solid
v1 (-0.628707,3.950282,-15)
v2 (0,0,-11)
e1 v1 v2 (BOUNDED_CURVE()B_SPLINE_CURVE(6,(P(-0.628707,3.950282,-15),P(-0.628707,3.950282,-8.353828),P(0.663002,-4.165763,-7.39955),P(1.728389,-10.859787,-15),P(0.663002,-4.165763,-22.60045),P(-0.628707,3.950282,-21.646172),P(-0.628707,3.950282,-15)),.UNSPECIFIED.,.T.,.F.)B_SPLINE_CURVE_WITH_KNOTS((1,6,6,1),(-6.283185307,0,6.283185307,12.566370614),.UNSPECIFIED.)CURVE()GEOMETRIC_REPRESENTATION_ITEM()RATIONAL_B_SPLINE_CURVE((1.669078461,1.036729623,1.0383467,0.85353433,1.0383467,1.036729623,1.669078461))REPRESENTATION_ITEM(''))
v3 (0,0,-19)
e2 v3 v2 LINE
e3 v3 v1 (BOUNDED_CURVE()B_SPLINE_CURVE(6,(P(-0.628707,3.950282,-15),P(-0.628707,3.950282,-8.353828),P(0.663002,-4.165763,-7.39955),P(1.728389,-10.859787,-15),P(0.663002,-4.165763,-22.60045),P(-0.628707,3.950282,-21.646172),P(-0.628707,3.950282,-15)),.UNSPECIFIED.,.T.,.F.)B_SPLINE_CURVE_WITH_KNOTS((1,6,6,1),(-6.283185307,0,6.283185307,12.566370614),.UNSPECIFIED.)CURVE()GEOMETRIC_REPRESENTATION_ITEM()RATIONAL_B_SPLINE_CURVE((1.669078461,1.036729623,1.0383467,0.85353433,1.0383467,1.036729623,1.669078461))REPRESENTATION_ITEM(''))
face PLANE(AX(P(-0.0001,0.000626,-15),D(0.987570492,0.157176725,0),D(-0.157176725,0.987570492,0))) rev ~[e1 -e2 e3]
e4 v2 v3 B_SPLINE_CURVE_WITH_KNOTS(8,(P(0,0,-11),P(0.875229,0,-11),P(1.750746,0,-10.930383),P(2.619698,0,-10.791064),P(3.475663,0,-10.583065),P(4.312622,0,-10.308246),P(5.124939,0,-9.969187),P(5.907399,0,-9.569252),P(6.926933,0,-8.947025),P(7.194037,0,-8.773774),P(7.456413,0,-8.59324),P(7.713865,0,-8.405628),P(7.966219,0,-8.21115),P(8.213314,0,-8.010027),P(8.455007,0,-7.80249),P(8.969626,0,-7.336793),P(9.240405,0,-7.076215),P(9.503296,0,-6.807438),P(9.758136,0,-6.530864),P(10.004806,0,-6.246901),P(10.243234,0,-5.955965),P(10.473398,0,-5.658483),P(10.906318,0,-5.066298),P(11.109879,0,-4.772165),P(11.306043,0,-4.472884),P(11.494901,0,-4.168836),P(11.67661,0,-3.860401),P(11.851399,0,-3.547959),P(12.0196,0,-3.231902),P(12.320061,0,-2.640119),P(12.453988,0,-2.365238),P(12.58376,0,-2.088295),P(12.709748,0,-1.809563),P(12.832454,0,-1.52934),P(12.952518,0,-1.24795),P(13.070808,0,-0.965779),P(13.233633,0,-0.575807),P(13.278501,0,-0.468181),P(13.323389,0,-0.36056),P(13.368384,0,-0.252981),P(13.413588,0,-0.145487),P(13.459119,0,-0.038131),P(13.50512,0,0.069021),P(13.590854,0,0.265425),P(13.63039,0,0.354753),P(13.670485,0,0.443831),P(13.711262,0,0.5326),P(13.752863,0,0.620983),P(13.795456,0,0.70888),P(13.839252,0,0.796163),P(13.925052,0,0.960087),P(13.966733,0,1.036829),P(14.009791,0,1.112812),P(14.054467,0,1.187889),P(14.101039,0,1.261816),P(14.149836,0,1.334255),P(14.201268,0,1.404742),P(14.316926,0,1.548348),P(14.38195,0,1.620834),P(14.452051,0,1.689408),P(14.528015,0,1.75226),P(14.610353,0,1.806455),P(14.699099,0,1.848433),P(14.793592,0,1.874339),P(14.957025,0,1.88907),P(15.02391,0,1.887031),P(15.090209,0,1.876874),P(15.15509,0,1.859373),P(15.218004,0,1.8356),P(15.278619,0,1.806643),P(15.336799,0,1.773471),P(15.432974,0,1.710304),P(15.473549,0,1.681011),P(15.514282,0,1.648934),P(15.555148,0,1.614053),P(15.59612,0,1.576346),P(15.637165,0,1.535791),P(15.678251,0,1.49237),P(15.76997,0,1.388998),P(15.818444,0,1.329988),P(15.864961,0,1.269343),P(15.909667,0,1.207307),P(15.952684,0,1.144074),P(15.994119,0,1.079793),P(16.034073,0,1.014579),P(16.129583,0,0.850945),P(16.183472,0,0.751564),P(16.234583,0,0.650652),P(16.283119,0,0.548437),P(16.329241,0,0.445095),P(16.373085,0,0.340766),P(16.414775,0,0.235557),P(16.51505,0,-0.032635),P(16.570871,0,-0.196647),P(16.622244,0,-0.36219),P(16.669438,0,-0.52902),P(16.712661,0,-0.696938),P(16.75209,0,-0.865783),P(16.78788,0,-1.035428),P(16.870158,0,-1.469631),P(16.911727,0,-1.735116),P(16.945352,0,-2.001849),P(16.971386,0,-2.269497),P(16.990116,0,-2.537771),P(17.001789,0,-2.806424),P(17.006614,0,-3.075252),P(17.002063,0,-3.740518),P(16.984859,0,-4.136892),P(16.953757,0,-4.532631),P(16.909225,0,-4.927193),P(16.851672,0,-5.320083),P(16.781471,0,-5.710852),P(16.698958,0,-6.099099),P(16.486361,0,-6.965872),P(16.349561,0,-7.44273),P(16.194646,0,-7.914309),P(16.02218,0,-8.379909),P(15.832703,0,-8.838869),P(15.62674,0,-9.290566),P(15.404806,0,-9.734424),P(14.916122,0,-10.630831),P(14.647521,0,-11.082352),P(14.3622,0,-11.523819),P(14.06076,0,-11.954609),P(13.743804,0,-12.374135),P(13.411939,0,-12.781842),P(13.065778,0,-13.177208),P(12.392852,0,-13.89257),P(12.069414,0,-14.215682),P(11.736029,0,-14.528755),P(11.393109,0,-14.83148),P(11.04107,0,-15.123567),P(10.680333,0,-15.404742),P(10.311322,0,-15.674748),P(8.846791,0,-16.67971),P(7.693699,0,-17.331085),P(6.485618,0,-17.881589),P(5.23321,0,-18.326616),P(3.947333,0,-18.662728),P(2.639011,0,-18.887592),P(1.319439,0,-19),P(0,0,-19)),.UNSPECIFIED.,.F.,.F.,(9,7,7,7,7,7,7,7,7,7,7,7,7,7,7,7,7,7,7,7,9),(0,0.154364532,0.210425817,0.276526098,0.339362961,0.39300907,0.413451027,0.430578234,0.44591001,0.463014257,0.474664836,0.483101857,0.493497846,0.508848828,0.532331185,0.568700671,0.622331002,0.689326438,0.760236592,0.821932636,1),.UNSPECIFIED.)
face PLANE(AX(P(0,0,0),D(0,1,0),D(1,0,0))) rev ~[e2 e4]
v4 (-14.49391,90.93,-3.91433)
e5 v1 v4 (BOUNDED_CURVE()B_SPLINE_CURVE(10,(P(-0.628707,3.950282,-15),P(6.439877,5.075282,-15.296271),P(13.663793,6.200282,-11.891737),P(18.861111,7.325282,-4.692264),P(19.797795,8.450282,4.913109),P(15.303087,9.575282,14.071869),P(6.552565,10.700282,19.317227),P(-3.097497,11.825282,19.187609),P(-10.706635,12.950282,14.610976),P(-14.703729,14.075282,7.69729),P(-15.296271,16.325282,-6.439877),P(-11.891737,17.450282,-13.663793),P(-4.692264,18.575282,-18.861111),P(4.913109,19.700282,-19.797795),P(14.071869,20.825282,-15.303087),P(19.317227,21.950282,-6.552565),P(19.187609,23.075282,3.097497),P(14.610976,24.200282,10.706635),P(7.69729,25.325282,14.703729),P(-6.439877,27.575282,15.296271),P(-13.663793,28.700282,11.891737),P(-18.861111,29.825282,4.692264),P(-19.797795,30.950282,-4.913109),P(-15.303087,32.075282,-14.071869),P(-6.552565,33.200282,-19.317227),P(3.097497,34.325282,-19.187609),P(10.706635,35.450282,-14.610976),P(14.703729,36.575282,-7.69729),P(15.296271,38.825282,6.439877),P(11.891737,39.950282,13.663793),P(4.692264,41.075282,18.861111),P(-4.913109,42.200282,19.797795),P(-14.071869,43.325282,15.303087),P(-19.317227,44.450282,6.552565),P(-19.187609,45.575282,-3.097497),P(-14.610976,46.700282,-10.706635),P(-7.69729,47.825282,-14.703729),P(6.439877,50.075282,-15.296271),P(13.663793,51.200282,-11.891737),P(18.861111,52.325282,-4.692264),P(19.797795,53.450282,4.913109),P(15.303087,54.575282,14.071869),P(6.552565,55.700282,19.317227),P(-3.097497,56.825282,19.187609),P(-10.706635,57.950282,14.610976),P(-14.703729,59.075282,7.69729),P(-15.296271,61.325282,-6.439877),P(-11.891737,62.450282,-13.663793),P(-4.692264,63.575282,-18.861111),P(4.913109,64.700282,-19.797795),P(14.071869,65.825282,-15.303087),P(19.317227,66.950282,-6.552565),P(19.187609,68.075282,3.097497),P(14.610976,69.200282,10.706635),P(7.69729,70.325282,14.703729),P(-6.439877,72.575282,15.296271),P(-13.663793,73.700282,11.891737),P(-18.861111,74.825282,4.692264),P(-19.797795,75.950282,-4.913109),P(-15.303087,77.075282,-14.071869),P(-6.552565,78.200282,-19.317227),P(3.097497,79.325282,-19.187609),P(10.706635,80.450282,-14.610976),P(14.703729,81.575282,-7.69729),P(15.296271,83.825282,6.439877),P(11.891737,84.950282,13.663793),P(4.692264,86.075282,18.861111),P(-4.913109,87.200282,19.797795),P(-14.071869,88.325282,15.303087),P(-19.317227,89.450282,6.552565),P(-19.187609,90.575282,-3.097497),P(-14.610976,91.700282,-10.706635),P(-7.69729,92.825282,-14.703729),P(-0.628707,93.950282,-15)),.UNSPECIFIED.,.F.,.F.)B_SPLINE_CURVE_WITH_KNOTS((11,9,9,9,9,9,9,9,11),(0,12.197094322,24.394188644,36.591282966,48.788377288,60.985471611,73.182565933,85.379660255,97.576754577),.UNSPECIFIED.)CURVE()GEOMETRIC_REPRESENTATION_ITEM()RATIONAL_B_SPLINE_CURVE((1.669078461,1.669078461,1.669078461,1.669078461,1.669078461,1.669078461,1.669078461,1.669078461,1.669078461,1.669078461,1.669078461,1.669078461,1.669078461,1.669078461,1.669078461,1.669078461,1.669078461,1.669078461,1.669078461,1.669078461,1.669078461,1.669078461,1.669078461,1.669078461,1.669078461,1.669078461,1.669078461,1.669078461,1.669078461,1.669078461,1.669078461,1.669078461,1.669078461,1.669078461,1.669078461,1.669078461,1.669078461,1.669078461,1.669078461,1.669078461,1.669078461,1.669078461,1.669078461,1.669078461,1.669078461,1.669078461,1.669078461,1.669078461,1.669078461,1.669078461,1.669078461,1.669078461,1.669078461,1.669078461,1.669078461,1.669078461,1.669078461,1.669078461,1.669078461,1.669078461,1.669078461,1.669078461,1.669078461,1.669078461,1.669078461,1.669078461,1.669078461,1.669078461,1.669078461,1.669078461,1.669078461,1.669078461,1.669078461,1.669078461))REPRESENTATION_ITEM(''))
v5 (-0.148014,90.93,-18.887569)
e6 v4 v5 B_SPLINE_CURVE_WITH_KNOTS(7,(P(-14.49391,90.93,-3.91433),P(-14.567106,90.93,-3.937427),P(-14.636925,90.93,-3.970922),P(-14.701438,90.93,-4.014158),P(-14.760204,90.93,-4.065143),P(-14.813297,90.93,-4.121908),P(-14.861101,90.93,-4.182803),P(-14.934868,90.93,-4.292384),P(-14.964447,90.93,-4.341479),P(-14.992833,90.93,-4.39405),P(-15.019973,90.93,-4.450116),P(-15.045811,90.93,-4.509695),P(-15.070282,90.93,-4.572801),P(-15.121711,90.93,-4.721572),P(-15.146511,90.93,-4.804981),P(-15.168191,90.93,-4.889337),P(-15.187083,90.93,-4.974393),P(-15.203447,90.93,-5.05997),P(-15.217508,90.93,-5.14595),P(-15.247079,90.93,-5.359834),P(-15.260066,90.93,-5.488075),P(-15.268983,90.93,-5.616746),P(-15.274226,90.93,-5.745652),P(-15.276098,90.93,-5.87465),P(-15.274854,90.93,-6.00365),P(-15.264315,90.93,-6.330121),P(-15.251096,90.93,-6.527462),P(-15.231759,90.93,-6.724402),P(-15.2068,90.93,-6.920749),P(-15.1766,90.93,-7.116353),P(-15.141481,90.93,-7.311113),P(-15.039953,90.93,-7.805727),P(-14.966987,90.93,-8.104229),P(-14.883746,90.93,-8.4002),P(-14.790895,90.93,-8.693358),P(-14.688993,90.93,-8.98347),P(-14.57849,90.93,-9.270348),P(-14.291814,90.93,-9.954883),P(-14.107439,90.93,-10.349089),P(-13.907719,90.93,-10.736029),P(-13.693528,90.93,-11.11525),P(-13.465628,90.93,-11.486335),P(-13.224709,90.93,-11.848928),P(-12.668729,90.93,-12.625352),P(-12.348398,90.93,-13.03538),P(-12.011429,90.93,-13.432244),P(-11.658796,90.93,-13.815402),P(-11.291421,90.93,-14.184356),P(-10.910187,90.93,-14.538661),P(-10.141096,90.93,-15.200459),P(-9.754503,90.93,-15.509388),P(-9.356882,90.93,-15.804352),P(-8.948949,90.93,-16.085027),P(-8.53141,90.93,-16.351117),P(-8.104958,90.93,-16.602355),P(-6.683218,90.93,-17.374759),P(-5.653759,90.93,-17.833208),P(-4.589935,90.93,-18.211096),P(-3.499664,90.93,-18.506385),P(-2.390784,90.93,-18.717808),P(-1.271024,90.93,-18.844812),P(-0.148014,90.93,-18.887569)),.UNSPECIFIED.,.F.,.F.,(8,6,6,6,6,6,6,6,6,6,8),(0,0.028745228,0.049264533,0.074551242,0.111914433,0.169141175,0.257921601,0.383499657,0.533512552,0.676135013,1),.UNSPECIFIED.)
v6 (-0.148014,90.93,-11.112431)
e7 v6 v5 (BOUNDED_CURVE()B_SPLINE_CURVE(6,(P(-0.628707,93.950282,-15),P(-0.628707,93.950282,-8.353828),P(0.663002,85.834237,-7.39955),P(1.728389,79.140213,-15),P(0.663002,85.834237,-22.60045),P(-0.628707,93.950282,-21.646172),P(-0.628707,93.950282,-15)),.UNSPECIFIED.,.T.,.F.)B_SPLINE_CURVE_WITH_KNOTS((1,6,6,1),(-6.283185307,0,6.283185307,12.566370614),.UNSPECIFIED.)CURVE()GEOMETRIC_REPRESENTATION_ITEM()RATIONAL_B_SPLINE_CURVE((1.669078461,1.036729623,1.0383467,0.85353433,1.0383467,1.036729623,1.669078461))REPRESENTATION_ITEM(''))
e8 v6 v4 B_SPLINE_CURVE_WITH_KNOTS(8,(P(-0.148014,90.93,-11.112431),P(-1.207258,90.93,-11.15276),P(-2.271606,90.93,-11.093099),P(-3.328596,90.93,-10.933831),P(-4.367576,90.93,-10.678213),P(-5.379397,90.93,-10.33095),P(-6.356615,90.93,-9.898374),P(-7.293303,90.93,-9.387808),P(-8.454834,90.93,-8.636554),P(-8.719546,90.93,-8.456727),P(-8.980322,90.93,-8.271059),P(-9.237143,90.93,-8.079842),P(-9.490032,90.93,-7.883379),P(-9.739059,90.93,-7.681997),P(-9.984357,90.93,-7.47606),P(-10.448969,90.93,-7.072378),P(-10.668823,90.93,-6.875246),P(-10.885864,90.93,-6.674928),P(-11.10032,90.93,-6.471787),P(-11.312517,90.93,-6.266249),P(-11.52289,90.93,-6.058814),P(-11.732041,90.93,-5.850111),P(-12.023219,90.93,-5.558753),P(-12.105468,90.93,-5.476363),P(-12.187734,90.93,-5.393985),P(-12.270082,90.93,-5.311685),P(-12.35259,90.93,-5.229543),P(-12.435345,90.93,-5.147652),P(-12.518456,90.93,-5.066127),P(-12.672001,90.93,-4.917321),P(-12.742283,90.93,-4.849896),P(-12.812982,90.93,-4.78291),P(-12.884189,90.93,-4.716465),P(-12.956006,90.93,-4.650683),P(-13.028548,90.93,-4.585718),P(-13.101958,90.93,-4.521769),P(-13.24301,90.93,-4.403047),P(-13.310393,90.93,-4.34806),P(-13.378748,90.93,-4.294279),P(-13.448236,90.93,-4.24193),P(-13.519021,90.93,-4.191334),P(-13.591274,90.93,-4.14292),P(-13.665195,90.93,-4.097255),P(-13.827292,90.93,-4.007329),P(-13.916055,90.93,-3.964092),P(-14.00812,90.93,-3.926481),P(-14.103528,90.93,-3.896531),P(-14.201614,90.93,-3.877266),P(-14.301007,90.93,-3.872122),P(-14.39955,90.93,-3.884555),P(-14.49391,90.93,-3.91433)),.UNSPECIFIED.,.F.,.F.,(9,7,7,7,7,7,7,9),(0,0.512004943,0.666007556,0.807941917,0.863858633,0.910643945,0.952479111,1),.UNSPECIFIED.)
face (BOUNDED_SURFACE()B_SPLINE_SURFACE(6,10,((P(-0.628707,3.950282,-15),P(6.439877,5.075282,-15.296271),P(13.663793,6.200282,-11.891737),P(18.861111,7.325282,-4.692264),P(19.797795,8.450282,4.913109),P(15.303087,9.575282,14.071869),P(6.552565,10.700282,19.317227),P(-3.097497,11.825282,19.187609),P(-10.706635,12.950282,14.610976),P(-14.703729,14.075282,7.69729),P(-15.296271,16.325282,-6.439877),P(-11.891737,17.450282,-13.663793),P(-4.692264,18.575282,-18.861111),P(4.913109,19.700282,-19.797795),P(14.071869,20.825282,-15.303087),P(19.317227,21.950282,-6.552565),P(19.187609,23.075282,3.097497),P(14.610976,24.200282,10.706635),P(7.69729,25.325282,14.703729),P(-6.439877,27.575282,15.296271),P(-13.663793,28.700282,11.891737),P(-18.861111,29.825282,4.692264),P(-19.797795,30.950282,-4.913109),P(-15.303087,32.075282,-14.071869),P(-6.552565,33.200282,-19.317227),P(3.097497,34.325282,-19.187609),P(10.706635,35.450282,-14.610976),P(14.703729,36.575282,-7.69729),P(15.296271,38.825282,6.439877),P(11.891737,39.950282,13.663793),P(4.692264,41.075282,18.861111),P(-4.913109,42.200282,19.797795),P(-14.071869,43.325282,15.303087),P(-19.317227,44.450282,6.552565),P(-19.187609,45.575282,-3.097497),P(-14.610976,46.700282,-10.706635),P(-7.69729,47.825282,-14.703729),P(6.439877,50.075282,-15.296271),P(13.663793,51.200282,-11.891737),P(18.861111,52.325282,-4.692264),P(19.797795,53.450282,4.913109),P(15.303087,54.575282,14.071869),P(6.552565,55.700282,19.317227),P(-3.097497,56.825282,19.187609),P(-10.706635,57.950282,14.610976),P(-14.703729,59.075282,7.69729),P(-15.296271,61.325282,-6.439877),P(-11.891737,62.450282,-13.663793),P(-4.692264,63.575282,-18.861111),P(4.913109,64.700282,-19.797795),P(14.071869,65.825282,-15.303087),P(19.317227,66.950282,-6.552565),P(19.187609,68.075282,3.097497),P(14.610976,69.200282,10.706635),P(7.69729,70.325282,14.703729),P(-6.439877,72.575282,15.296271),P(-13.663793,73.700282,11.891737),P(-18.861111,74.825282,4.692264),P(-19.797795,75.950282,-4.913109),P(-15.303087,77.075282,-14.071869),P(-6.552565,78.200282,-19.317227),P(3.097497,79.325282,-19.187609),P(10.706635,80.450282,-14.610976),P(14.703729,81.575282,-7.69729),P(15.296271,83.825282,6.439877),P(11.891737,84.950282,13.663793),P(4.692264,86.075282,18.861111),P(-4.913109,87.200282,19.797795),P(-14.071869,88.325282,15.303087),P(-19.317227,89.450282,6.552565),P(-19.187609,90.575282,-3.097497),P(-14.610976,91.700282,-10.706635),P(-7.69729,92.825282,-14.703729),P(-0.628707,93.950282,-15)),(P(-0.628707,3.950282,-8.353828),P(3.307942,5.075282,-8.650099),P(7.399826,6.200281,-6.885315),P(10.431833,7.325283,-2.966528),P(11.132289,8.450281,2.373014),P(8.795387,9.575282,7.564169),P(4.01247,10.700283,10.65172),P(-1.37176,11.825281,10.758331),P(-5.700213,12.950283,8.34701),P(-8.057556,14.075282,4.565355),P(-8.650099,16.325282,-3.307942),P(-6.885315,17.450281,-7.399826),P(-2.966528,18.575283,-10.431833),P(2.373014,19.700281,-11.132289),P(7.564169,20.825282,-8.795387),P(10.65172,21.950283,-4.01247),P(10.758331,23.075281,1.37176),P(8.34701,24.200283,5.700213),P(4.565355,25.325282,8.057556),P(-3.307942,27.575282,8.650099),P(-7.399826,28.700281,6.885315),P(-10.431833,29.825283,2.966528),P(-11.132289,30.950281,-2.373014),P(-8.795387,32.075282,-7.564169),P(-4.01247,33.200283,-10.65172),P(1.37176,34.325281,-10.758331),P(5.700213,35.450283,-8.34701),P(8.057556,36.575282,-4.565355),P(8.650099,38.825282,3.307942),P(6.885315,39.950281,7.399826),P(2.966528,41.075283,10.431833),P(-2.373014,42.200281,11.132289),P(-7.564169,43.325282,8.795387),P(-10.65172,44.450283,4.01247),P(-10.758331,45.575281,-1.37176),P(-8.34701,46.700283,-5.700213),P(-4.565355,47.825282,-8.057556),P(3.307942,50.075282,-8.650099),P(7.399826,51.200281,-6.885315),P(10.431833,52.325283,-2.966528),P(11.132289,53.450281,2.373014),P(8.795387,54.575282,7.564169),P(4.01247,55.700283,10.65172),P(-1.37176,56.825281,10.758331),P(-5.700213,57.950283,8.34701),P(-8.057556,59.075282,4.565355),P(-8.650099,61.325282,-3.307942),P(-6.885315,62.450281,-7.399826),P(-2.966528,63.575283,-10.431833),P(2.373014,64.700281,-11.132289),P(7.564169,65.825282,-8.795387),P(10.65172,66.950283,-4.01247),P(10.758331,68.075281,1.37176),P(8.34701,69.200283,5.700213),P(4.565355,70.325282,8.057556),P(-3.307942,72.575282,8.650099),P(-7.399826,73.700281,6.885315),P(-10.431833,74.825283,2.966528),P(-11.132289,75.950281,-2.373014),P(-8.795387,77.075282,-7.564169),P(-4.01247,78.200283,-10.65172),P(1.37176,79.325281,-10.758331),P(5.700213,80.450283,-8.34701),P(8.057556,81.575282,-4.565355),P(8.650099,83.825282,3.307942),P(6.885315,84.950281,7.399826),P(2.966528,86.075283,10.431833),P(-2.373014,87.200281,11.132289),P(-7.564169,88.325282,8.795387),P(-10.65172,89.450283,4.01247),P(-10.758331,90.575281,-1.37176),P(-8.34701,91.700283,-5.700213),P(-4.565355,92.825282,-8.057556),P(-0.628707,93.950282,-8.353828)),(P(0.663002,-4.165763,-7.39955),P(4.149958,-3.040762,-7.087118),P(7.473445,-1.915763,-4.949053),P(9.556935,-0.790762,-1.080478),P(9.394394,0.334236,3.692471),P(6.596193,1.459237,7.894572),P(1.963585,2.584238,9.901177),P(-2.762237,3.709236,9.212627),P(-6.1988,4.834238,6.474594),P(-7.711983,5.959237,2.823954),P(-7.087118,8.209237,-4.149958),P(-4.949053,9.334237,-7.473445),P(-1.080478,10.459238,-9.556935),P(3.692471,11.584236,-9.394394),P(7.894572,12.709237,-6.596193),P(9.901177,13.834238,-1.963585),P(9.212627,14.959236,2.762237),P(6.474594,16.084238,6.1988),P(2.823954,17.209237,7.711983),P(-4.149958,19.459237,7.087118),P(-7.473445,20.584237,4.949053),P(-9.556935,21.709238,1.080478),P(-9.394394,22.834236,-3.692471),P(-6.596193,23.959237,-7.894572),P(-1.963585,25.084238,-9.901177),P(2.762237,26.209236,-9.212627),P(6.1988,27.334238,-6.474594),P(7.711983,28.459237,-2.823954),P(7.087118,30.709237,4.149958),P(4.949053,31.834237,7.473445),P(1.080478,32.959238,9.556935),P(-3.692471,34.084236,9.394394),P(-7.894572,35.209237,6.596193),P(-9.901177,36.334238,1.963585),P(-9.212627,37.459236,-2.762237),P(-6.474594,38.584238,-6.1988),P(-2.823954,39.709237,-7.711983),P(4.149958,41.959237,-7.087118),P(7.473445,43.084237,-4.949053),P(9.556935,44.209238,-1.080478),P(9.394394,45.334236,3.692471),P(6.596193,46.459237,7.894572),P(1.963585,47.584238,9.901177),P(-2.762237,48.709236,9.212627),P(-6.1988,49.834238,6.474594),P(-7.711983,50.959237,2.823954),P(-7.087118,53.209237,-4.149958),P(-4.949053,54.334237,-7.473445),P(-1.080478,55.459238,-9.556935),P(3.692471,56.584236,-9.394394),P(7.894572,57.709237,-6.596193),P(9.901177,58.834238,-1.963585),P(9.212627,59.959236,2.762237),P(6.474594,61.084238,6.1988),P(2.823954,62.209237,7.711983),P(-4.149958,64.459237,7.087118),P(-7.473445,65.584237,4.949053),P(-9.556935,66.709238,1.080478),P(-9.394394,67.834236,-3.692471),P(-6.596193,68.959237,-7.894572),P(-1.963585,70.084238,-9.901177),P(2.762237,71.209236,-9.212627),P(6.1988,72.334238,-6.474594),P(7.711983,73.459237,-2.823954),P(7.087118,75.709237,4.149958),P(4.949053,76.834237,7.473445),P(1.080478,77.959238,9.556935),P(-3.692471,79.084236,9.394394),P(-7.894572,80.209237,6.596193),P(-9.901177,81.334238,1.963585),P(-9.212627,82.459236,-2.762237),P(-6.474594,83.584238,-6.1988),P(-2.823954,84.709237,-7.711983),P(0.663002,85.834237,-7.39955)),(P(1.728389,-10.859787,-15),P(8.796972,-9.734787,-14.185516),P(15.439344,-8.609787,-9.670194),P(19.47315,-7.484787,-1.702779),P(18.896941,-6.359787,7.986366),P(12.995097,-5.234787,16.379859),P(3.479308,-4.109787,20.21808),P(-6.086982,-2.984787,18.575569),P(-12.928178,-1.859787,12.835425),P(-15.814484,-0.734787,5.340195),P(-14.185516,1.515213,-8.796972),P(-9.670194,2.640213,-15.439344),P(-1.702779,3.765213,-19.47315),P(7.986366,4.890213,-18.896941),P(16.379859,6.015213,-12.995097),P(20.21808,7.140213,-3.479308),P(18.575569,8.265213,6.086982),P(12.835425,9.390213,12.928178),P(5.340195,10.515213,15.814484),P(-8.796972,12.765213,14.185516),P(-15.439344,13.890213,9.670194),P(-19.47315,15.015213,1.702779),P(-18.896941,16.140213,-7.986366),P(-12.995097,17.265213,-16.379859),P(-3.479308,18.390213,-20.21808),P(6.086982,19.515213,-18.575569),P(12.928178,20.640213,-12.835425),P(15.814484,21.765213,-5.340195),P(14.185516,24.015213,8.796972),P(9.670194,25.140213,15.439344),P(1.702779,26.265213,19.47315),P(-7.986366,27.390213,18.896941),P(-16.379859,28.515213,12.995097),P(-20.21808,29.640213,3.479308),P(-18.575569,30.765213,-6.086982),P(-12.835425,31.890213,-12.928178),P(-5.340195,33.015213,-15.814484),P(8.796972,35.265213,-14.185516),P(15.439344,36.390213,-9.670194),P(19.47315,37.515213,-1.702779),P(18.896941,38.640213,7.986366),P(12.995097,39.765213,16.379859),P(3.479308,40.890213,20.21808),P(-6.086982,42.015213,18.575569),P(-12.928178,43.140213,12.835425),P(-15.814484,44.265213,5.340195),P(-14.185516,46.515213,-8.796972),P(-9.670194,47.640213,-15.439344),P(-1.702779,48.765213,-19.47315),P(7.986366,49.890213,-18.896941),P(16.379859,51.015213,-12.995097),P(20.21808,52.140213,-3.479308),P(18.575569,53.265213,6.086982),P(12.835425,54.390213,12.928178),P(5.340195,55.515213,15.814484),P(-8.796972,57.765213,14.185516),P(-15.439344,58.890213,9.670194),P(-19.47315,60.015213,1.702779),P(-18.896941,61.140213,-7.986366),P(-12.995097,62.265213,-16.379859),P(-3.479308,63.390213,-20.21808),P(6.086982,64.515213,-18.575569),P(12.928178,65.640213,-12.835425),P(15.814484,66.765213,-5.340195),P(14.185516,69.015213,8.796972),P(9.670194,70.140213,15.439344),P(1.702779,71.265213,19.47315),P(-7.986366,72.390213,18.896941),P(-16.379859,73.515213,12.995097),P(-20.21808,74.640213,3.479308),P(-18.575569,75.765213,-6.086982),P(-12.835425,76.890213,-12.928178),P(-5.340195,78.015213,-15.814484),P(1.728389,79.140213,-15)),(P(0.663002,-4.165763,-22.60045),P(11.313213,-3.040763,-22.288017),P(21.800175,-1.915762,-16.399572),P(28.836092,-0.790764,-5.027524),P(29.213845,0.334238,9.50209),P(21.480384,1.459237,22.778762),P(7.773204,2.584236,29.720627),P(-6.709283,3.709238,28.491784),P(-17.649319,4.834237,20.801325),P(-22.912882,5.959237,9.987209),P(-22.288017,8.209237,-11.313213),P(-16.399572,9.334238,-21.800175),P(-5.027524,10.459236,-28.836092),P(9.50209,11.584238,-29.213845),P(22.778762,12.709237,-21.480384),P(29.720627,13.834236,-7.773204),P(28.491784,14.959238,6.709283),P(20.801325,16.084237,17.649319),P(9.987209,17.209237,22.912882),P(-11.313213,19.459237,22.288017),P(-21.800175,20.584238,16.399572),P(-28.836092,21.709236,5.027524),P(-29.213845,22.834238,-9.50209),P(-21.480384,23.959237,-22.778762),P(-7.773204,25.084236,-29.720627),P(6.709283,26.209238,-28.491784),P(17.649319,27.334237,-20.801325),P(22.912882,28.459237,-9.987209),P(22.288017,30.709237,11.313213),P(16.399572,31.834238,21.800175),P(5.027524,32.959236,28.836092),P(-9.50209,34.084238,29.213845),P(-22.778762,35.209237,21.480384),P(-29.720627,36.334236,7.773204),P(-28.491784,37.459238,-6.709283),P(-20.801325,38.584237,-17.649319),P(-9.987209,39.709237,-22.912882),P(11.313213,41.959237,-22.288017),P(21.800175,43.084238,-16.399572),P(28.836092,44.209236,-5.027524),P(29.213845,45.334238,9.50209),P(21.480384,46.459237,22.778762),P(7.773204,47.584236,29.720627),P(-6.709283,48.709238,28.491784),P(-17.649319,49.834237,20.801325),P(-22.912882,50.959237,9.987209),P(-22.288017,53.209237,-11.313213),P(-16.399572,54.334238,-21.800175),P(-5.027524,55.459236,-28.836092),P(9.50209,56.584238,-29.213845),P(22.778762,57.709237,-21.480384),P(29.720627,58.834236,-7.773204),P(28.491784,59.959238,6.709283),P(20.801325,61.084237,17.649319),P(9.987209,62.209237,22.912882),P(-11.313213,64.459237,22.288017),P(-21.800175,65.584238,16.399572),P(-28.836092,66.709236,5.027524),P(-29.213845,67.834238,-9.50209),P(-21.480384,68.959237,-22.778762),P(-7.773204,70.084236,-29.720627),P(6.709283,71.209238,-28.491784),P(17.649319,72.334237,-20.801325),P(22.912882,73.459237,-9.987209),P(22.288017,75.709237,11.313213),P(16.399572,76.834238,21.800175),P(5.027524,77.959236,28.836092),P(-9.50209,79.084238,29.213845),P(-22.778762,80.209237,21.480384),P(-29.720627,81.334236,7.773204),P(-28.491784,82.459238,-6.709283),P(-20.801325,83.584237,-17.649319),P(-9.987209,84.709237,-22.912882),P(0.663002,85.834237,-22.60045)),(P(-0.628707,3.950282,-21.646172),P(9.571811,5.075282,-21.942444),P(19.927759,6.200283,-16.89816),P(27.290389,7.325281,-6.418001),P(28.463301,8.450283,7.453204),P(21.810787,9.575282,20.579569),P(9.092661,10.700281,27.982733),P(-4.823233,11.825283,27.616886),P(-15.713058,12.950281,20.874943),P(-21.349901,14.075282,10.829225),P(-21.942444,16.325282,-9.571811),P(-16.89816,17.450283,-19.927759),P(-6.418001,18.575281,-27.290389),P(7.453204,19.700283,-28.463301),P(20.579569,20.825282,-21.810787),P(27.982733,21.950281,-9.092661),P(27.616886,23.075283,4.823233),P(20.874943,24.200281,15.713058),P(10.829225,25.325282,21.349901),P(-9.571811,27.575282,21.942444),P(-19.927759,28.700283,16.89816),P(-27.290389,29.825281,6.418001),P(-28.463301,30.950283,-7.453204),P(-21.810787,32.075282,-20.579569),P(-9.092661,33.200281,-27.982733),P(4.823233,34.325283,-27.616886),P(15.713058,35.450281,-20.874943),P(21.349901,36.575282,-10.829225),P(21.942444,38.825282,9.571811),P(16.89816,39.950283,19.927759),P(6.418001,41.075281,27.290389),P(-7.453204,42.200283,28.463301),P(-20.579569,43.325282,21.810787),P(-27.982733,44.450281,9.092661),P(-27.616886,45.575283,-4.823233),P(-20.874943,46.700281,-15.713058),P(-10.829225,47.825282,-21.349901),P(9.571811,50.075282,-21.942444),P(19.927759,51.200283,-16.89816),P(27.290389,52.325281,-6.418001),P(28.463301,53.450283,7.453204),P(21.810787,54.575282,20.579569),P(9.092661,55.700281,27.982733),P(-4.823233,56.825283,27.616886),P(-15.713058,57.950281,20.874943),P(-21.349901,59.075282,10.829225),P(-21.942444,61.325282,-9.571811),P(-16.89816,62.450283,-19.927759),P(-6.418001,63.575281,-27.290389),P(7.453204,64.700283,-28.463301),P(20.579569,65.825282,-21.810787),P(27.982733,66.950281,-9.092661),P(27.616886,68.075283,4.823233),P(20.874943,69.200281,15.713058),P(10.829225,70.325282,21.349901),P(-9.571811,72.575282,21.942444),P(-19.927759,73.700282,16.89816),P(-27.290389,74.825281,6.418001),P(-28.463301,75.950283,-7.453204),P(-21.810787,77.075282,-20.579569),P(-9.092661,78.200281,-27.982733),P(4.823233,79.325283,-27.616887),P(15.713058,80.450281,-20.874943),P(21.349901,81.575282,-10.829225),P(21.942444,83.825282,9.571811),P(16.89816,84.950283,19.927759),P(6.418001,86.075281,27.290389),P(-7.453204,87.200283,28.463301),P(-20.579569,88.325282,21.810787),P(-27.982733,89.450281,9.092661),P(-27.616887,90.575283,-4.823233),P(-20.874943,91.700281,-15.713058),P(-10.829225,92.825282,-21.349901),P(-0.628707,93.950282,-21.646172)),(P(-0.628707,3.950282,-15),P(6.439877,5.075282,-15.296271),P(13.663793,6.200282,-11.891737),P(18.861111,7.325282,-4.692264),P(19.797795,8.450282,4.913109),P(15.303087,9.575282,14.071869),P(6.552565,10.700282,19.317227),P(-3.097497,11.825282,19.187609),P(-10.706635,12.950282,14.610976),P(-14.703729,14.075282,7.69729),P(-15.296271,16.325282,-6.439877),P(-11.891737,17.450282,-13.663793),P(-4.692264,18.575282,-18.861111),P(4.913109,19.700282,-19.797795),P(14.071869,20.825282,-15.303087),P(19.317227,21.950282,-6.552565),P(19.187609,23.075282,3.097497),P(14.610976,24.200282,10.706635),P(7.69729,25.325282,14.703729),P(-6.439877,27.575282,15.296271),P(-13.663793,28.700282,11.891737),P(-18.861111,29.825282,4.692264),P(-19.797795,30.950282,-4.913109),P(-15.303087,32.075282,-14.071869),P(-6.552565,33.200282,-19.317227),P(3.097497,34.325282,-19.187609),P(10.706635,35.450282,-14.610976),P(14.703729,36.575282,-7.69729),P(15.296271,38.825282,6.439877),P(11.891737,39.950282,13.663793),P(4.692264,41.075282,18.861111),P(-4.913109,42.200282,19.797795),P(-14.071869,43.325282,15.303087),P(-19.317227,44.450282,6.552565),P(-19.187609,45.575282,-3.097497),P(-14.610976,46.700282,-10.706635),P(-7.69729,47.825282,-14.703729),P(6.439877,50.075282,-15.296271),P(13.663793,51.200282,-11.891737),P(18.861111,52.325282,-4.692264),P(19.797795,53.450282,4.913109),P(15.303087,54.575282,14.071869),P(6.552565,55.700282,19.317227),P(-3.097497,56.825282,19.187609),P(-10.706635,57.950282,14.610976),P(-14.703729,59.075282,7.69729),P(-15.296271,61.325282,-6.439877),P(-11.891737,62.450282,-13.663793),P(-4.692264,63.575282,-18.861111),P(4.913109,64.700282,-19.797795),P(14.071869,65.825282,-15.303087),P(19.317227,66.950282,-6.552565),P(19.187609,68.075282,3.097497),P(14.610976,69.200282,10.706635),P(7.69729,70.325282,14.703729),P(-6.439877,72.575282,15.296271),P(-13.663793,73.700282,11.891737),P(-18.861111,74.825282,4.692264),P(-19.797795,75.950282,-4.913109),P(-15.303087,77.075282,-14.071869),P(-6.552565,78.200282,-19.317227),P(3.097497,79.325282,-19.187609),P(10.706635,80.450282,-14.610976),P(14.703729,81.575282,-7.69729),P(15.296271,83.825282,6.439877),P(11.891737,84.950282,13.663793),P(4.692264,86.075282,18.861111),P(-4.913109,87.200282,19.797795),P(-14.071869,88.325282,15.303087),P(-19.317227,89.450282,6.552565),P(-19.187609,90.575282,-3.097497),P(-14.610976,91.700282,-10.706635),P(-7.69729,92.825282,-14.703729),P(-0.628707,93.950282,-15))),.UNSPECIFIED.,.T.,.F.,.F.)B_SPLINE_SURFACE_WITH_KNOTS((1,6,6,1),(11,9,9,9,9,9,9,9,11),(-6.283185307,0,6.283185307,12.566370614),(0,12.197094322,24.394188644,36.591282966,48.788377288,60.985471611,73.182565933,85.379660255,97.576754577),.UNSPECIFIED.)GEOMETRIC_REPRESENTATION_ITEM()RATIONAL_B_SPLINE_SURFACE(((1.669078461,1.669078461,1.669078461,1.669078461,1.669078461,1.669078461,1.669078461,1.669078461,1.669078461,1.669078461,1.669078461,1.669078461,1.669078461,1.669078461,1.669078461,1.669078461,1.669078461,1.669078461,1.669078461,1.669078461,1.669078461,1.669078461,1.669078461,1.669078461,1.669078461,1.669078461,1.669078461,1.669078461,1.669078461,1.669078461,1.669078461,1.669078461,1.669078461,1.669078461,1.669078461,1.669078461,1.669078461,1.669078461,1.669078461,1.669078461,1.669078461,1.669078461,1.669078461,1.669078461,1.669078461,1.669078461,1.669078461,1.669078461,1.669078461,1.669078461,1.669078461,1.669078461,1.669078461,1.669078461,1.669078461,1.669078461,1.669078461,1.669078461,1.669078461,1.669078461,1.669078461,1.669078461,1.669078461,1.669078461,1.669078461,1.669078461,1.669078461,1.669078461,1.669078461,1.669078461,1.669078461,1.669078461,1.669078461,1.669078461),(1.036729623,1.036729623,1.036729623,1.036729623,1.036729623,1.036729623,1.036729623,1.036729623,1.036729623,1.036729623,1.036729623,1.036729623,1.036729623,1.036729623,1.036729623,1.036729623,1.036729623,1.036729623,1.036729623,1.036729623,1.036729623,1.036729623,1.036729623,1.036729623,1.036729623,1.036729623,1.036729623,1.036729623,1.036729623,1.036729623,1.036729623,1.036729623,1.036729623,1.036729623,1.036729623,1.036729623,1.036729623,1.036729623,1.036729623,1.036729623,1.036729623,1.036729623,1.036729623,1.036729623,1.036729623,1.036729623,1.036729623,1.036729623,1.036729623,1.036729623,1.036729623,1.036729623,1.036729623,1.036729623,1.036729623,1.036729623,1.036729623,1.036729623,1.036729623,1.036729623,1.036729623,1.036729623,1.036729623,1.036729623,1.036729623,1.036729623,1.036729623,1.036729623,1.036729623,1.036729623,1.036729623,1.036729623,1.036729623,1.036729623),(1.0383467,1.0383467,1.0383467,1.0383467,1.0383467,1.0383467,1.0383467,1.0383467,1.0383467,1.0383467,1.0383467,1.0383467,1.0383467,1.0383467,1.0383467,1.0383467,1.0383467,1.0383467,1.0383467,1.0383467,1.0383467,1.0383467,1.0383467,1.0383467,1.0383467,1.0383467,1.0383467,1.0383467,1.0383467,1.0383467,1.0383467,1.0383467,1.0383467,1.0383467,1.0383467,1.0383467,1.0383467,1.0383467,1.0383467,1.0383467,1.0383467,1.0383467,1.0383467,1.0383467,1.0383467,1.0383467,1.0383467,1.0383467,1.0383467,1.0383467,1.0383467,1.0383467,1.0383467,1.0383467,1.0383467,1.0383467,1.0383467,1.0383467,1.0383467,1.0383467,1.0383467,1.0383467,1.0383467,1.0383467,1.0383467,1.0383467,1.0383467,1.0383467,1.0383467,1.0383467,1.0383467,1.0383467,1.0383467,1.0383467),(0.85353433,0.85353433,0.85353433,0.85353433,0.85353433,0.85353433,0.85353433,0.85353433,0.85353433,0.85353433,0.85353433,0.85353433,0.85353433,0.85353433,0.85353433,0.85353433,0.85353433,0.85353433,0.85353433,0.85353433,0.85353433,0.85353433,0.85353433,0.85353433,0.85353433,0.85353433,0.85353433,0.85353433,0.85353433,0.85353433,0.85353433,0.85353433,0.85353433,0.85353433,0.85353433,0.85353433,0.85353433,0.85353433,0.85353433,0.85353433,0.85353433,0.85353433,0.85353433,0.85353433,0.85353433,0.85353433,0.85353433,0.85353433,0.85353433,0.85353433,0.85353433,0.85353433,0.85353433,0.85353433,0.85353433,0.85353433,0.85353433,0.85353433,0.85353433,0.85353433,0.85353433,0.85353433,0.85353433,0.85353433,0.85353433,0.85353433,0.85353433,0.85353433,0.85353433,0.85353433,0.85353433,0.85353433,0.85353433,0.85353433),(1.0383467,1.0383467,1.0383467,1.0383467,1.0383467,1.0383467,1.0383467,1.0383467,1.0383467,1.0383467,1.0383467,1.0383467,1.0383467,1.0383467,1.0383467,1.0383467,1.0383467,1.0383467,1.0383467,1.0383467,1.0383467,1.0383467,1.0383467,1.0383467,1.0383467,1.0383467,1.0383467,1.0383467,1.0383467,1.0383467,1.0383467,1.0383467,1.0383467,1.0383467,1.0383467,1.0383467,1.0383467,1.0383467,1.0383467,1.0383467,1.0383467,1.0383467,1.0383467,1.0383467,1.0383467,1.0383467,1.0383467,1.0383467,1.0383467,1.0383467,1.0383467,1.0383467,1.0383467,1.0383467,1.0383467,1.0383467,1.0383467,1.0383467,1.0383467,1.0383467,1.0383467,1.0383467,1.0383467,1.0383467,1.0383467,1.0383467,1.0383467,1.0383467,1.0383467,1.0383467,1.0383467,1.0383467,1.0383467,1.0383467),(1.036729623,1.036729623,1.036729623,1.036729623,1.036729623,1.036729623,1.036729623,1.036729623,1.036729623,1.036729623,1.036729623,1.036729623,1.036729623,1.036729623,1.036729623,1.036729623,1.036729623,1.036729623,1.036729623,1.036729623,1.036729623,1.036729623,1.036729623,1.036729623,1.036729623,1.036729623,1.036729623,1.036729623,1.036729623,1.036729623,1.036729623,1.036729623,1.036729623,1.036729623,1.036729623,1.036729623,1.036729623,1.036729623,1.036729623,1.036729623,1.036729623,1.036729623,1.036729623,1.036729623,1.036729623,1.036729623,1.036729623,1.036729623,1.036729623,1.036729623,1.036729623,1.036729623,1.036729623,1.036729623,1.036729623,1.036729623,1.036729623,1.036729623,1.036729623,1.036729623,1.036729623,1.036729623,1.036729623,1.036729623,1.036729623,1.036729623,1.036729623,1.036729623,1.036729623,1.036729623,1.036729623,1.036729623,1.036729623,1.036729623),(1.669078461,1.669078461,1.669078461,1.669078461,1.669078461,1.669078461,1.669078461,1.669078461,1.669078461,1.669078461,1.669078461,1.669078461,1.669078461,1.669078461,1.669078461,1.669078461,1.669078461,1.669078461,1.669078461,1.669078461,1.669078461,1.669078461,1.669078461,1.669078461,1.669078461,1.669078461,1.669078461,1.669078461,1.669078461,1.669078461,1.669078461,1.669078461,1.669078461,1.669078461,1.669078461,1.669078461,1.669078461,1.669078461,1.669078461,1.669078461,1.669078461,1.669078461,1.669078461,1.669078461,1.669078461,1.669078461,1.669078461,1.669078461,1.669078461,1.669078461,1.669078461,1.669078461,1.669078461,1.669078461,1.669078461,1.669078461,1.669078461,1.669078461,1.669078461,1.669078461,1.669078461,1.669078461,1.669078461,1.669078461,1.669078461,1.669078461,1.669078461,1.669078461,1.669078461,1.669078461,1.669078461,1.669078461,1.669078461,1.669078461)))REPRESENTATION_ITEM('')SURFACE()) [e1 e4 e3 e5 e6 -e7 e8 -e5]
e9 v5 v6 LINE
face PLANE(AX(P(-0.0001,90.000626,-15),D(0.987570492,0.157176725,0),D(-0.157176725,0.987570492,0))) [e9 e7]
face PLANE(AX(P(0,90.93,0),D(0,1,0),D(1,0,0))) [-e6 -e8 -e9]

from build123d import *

# Parameters (mm, degrees)
SWEEP4_PITCH       = 15
SWEEP4_HEIGHT      = 90
SWEEP4_RADIUS      = 15
SWEEP4_START_ANGLE = -180
SWEEP4_PROFILE_R   = 4
SKETCH38_R         = 22.075352376
CUT_EXTRUDE1_DEPTH = 10
SKETCH41_R         = 21.050705748
CUT_EXTRUDE5_DEPTH = 10


with BuildPart() as part:
    # Sweep4: sweep along a helix
    with BuildLine() as sweep4_path:
        add(Helix(SWEEP4_PITCH, SWEEP4_HEIGHT, SWEEP4_RADIUS, center=(0, 0, 0), direction=(0, 1, 0), lefthand=True, mode=Mode.PRIVATE).rotate(Axis((0, 0, 0), (0, 1, 0)), SWEEP4_START_ANGLE))
    # Sweep4 profile (on start of the path) → Sweep4 (sweep)
    with BuildSketch(Plane(origin=(0, 0, -15), x_dir=(-0.1571767254779082, 0.9875704921513413, 0), z_dir=(0.9875704921513413, 0.1571767254779082, 8.971125105412251e-13))):
        Circle(SWEEP4_PROFILE_R)
    sweep(path=sweep4_path.line, is_frenet=True)

    # Sketch38 → Cut-Extrude1 (cut)
    with BuildSketch(Plane(origin=(0, 0, 0), x_dir=(1, 0, 0), z_dir=(0, 1, 0))):
        Circle(SKETCH38_R)
    extrude(amount=-CUT_EXTRUDE1_DEPTH, mode=Mode.SUBTRACT)

    # Sketch41 → Cut-Extrude5 (cut)
    with BuildSketch(Plane(origin=(0, 90.93, 0), x_dir=(1, 0, 0), z_dir=(0, 1, 0))):
        Circle(SKETCH41_R)
    extrude(amount=CUT_EXTRUDE5_DEPTH, mode=Mode.SUBTRACT)


solid = part.part
